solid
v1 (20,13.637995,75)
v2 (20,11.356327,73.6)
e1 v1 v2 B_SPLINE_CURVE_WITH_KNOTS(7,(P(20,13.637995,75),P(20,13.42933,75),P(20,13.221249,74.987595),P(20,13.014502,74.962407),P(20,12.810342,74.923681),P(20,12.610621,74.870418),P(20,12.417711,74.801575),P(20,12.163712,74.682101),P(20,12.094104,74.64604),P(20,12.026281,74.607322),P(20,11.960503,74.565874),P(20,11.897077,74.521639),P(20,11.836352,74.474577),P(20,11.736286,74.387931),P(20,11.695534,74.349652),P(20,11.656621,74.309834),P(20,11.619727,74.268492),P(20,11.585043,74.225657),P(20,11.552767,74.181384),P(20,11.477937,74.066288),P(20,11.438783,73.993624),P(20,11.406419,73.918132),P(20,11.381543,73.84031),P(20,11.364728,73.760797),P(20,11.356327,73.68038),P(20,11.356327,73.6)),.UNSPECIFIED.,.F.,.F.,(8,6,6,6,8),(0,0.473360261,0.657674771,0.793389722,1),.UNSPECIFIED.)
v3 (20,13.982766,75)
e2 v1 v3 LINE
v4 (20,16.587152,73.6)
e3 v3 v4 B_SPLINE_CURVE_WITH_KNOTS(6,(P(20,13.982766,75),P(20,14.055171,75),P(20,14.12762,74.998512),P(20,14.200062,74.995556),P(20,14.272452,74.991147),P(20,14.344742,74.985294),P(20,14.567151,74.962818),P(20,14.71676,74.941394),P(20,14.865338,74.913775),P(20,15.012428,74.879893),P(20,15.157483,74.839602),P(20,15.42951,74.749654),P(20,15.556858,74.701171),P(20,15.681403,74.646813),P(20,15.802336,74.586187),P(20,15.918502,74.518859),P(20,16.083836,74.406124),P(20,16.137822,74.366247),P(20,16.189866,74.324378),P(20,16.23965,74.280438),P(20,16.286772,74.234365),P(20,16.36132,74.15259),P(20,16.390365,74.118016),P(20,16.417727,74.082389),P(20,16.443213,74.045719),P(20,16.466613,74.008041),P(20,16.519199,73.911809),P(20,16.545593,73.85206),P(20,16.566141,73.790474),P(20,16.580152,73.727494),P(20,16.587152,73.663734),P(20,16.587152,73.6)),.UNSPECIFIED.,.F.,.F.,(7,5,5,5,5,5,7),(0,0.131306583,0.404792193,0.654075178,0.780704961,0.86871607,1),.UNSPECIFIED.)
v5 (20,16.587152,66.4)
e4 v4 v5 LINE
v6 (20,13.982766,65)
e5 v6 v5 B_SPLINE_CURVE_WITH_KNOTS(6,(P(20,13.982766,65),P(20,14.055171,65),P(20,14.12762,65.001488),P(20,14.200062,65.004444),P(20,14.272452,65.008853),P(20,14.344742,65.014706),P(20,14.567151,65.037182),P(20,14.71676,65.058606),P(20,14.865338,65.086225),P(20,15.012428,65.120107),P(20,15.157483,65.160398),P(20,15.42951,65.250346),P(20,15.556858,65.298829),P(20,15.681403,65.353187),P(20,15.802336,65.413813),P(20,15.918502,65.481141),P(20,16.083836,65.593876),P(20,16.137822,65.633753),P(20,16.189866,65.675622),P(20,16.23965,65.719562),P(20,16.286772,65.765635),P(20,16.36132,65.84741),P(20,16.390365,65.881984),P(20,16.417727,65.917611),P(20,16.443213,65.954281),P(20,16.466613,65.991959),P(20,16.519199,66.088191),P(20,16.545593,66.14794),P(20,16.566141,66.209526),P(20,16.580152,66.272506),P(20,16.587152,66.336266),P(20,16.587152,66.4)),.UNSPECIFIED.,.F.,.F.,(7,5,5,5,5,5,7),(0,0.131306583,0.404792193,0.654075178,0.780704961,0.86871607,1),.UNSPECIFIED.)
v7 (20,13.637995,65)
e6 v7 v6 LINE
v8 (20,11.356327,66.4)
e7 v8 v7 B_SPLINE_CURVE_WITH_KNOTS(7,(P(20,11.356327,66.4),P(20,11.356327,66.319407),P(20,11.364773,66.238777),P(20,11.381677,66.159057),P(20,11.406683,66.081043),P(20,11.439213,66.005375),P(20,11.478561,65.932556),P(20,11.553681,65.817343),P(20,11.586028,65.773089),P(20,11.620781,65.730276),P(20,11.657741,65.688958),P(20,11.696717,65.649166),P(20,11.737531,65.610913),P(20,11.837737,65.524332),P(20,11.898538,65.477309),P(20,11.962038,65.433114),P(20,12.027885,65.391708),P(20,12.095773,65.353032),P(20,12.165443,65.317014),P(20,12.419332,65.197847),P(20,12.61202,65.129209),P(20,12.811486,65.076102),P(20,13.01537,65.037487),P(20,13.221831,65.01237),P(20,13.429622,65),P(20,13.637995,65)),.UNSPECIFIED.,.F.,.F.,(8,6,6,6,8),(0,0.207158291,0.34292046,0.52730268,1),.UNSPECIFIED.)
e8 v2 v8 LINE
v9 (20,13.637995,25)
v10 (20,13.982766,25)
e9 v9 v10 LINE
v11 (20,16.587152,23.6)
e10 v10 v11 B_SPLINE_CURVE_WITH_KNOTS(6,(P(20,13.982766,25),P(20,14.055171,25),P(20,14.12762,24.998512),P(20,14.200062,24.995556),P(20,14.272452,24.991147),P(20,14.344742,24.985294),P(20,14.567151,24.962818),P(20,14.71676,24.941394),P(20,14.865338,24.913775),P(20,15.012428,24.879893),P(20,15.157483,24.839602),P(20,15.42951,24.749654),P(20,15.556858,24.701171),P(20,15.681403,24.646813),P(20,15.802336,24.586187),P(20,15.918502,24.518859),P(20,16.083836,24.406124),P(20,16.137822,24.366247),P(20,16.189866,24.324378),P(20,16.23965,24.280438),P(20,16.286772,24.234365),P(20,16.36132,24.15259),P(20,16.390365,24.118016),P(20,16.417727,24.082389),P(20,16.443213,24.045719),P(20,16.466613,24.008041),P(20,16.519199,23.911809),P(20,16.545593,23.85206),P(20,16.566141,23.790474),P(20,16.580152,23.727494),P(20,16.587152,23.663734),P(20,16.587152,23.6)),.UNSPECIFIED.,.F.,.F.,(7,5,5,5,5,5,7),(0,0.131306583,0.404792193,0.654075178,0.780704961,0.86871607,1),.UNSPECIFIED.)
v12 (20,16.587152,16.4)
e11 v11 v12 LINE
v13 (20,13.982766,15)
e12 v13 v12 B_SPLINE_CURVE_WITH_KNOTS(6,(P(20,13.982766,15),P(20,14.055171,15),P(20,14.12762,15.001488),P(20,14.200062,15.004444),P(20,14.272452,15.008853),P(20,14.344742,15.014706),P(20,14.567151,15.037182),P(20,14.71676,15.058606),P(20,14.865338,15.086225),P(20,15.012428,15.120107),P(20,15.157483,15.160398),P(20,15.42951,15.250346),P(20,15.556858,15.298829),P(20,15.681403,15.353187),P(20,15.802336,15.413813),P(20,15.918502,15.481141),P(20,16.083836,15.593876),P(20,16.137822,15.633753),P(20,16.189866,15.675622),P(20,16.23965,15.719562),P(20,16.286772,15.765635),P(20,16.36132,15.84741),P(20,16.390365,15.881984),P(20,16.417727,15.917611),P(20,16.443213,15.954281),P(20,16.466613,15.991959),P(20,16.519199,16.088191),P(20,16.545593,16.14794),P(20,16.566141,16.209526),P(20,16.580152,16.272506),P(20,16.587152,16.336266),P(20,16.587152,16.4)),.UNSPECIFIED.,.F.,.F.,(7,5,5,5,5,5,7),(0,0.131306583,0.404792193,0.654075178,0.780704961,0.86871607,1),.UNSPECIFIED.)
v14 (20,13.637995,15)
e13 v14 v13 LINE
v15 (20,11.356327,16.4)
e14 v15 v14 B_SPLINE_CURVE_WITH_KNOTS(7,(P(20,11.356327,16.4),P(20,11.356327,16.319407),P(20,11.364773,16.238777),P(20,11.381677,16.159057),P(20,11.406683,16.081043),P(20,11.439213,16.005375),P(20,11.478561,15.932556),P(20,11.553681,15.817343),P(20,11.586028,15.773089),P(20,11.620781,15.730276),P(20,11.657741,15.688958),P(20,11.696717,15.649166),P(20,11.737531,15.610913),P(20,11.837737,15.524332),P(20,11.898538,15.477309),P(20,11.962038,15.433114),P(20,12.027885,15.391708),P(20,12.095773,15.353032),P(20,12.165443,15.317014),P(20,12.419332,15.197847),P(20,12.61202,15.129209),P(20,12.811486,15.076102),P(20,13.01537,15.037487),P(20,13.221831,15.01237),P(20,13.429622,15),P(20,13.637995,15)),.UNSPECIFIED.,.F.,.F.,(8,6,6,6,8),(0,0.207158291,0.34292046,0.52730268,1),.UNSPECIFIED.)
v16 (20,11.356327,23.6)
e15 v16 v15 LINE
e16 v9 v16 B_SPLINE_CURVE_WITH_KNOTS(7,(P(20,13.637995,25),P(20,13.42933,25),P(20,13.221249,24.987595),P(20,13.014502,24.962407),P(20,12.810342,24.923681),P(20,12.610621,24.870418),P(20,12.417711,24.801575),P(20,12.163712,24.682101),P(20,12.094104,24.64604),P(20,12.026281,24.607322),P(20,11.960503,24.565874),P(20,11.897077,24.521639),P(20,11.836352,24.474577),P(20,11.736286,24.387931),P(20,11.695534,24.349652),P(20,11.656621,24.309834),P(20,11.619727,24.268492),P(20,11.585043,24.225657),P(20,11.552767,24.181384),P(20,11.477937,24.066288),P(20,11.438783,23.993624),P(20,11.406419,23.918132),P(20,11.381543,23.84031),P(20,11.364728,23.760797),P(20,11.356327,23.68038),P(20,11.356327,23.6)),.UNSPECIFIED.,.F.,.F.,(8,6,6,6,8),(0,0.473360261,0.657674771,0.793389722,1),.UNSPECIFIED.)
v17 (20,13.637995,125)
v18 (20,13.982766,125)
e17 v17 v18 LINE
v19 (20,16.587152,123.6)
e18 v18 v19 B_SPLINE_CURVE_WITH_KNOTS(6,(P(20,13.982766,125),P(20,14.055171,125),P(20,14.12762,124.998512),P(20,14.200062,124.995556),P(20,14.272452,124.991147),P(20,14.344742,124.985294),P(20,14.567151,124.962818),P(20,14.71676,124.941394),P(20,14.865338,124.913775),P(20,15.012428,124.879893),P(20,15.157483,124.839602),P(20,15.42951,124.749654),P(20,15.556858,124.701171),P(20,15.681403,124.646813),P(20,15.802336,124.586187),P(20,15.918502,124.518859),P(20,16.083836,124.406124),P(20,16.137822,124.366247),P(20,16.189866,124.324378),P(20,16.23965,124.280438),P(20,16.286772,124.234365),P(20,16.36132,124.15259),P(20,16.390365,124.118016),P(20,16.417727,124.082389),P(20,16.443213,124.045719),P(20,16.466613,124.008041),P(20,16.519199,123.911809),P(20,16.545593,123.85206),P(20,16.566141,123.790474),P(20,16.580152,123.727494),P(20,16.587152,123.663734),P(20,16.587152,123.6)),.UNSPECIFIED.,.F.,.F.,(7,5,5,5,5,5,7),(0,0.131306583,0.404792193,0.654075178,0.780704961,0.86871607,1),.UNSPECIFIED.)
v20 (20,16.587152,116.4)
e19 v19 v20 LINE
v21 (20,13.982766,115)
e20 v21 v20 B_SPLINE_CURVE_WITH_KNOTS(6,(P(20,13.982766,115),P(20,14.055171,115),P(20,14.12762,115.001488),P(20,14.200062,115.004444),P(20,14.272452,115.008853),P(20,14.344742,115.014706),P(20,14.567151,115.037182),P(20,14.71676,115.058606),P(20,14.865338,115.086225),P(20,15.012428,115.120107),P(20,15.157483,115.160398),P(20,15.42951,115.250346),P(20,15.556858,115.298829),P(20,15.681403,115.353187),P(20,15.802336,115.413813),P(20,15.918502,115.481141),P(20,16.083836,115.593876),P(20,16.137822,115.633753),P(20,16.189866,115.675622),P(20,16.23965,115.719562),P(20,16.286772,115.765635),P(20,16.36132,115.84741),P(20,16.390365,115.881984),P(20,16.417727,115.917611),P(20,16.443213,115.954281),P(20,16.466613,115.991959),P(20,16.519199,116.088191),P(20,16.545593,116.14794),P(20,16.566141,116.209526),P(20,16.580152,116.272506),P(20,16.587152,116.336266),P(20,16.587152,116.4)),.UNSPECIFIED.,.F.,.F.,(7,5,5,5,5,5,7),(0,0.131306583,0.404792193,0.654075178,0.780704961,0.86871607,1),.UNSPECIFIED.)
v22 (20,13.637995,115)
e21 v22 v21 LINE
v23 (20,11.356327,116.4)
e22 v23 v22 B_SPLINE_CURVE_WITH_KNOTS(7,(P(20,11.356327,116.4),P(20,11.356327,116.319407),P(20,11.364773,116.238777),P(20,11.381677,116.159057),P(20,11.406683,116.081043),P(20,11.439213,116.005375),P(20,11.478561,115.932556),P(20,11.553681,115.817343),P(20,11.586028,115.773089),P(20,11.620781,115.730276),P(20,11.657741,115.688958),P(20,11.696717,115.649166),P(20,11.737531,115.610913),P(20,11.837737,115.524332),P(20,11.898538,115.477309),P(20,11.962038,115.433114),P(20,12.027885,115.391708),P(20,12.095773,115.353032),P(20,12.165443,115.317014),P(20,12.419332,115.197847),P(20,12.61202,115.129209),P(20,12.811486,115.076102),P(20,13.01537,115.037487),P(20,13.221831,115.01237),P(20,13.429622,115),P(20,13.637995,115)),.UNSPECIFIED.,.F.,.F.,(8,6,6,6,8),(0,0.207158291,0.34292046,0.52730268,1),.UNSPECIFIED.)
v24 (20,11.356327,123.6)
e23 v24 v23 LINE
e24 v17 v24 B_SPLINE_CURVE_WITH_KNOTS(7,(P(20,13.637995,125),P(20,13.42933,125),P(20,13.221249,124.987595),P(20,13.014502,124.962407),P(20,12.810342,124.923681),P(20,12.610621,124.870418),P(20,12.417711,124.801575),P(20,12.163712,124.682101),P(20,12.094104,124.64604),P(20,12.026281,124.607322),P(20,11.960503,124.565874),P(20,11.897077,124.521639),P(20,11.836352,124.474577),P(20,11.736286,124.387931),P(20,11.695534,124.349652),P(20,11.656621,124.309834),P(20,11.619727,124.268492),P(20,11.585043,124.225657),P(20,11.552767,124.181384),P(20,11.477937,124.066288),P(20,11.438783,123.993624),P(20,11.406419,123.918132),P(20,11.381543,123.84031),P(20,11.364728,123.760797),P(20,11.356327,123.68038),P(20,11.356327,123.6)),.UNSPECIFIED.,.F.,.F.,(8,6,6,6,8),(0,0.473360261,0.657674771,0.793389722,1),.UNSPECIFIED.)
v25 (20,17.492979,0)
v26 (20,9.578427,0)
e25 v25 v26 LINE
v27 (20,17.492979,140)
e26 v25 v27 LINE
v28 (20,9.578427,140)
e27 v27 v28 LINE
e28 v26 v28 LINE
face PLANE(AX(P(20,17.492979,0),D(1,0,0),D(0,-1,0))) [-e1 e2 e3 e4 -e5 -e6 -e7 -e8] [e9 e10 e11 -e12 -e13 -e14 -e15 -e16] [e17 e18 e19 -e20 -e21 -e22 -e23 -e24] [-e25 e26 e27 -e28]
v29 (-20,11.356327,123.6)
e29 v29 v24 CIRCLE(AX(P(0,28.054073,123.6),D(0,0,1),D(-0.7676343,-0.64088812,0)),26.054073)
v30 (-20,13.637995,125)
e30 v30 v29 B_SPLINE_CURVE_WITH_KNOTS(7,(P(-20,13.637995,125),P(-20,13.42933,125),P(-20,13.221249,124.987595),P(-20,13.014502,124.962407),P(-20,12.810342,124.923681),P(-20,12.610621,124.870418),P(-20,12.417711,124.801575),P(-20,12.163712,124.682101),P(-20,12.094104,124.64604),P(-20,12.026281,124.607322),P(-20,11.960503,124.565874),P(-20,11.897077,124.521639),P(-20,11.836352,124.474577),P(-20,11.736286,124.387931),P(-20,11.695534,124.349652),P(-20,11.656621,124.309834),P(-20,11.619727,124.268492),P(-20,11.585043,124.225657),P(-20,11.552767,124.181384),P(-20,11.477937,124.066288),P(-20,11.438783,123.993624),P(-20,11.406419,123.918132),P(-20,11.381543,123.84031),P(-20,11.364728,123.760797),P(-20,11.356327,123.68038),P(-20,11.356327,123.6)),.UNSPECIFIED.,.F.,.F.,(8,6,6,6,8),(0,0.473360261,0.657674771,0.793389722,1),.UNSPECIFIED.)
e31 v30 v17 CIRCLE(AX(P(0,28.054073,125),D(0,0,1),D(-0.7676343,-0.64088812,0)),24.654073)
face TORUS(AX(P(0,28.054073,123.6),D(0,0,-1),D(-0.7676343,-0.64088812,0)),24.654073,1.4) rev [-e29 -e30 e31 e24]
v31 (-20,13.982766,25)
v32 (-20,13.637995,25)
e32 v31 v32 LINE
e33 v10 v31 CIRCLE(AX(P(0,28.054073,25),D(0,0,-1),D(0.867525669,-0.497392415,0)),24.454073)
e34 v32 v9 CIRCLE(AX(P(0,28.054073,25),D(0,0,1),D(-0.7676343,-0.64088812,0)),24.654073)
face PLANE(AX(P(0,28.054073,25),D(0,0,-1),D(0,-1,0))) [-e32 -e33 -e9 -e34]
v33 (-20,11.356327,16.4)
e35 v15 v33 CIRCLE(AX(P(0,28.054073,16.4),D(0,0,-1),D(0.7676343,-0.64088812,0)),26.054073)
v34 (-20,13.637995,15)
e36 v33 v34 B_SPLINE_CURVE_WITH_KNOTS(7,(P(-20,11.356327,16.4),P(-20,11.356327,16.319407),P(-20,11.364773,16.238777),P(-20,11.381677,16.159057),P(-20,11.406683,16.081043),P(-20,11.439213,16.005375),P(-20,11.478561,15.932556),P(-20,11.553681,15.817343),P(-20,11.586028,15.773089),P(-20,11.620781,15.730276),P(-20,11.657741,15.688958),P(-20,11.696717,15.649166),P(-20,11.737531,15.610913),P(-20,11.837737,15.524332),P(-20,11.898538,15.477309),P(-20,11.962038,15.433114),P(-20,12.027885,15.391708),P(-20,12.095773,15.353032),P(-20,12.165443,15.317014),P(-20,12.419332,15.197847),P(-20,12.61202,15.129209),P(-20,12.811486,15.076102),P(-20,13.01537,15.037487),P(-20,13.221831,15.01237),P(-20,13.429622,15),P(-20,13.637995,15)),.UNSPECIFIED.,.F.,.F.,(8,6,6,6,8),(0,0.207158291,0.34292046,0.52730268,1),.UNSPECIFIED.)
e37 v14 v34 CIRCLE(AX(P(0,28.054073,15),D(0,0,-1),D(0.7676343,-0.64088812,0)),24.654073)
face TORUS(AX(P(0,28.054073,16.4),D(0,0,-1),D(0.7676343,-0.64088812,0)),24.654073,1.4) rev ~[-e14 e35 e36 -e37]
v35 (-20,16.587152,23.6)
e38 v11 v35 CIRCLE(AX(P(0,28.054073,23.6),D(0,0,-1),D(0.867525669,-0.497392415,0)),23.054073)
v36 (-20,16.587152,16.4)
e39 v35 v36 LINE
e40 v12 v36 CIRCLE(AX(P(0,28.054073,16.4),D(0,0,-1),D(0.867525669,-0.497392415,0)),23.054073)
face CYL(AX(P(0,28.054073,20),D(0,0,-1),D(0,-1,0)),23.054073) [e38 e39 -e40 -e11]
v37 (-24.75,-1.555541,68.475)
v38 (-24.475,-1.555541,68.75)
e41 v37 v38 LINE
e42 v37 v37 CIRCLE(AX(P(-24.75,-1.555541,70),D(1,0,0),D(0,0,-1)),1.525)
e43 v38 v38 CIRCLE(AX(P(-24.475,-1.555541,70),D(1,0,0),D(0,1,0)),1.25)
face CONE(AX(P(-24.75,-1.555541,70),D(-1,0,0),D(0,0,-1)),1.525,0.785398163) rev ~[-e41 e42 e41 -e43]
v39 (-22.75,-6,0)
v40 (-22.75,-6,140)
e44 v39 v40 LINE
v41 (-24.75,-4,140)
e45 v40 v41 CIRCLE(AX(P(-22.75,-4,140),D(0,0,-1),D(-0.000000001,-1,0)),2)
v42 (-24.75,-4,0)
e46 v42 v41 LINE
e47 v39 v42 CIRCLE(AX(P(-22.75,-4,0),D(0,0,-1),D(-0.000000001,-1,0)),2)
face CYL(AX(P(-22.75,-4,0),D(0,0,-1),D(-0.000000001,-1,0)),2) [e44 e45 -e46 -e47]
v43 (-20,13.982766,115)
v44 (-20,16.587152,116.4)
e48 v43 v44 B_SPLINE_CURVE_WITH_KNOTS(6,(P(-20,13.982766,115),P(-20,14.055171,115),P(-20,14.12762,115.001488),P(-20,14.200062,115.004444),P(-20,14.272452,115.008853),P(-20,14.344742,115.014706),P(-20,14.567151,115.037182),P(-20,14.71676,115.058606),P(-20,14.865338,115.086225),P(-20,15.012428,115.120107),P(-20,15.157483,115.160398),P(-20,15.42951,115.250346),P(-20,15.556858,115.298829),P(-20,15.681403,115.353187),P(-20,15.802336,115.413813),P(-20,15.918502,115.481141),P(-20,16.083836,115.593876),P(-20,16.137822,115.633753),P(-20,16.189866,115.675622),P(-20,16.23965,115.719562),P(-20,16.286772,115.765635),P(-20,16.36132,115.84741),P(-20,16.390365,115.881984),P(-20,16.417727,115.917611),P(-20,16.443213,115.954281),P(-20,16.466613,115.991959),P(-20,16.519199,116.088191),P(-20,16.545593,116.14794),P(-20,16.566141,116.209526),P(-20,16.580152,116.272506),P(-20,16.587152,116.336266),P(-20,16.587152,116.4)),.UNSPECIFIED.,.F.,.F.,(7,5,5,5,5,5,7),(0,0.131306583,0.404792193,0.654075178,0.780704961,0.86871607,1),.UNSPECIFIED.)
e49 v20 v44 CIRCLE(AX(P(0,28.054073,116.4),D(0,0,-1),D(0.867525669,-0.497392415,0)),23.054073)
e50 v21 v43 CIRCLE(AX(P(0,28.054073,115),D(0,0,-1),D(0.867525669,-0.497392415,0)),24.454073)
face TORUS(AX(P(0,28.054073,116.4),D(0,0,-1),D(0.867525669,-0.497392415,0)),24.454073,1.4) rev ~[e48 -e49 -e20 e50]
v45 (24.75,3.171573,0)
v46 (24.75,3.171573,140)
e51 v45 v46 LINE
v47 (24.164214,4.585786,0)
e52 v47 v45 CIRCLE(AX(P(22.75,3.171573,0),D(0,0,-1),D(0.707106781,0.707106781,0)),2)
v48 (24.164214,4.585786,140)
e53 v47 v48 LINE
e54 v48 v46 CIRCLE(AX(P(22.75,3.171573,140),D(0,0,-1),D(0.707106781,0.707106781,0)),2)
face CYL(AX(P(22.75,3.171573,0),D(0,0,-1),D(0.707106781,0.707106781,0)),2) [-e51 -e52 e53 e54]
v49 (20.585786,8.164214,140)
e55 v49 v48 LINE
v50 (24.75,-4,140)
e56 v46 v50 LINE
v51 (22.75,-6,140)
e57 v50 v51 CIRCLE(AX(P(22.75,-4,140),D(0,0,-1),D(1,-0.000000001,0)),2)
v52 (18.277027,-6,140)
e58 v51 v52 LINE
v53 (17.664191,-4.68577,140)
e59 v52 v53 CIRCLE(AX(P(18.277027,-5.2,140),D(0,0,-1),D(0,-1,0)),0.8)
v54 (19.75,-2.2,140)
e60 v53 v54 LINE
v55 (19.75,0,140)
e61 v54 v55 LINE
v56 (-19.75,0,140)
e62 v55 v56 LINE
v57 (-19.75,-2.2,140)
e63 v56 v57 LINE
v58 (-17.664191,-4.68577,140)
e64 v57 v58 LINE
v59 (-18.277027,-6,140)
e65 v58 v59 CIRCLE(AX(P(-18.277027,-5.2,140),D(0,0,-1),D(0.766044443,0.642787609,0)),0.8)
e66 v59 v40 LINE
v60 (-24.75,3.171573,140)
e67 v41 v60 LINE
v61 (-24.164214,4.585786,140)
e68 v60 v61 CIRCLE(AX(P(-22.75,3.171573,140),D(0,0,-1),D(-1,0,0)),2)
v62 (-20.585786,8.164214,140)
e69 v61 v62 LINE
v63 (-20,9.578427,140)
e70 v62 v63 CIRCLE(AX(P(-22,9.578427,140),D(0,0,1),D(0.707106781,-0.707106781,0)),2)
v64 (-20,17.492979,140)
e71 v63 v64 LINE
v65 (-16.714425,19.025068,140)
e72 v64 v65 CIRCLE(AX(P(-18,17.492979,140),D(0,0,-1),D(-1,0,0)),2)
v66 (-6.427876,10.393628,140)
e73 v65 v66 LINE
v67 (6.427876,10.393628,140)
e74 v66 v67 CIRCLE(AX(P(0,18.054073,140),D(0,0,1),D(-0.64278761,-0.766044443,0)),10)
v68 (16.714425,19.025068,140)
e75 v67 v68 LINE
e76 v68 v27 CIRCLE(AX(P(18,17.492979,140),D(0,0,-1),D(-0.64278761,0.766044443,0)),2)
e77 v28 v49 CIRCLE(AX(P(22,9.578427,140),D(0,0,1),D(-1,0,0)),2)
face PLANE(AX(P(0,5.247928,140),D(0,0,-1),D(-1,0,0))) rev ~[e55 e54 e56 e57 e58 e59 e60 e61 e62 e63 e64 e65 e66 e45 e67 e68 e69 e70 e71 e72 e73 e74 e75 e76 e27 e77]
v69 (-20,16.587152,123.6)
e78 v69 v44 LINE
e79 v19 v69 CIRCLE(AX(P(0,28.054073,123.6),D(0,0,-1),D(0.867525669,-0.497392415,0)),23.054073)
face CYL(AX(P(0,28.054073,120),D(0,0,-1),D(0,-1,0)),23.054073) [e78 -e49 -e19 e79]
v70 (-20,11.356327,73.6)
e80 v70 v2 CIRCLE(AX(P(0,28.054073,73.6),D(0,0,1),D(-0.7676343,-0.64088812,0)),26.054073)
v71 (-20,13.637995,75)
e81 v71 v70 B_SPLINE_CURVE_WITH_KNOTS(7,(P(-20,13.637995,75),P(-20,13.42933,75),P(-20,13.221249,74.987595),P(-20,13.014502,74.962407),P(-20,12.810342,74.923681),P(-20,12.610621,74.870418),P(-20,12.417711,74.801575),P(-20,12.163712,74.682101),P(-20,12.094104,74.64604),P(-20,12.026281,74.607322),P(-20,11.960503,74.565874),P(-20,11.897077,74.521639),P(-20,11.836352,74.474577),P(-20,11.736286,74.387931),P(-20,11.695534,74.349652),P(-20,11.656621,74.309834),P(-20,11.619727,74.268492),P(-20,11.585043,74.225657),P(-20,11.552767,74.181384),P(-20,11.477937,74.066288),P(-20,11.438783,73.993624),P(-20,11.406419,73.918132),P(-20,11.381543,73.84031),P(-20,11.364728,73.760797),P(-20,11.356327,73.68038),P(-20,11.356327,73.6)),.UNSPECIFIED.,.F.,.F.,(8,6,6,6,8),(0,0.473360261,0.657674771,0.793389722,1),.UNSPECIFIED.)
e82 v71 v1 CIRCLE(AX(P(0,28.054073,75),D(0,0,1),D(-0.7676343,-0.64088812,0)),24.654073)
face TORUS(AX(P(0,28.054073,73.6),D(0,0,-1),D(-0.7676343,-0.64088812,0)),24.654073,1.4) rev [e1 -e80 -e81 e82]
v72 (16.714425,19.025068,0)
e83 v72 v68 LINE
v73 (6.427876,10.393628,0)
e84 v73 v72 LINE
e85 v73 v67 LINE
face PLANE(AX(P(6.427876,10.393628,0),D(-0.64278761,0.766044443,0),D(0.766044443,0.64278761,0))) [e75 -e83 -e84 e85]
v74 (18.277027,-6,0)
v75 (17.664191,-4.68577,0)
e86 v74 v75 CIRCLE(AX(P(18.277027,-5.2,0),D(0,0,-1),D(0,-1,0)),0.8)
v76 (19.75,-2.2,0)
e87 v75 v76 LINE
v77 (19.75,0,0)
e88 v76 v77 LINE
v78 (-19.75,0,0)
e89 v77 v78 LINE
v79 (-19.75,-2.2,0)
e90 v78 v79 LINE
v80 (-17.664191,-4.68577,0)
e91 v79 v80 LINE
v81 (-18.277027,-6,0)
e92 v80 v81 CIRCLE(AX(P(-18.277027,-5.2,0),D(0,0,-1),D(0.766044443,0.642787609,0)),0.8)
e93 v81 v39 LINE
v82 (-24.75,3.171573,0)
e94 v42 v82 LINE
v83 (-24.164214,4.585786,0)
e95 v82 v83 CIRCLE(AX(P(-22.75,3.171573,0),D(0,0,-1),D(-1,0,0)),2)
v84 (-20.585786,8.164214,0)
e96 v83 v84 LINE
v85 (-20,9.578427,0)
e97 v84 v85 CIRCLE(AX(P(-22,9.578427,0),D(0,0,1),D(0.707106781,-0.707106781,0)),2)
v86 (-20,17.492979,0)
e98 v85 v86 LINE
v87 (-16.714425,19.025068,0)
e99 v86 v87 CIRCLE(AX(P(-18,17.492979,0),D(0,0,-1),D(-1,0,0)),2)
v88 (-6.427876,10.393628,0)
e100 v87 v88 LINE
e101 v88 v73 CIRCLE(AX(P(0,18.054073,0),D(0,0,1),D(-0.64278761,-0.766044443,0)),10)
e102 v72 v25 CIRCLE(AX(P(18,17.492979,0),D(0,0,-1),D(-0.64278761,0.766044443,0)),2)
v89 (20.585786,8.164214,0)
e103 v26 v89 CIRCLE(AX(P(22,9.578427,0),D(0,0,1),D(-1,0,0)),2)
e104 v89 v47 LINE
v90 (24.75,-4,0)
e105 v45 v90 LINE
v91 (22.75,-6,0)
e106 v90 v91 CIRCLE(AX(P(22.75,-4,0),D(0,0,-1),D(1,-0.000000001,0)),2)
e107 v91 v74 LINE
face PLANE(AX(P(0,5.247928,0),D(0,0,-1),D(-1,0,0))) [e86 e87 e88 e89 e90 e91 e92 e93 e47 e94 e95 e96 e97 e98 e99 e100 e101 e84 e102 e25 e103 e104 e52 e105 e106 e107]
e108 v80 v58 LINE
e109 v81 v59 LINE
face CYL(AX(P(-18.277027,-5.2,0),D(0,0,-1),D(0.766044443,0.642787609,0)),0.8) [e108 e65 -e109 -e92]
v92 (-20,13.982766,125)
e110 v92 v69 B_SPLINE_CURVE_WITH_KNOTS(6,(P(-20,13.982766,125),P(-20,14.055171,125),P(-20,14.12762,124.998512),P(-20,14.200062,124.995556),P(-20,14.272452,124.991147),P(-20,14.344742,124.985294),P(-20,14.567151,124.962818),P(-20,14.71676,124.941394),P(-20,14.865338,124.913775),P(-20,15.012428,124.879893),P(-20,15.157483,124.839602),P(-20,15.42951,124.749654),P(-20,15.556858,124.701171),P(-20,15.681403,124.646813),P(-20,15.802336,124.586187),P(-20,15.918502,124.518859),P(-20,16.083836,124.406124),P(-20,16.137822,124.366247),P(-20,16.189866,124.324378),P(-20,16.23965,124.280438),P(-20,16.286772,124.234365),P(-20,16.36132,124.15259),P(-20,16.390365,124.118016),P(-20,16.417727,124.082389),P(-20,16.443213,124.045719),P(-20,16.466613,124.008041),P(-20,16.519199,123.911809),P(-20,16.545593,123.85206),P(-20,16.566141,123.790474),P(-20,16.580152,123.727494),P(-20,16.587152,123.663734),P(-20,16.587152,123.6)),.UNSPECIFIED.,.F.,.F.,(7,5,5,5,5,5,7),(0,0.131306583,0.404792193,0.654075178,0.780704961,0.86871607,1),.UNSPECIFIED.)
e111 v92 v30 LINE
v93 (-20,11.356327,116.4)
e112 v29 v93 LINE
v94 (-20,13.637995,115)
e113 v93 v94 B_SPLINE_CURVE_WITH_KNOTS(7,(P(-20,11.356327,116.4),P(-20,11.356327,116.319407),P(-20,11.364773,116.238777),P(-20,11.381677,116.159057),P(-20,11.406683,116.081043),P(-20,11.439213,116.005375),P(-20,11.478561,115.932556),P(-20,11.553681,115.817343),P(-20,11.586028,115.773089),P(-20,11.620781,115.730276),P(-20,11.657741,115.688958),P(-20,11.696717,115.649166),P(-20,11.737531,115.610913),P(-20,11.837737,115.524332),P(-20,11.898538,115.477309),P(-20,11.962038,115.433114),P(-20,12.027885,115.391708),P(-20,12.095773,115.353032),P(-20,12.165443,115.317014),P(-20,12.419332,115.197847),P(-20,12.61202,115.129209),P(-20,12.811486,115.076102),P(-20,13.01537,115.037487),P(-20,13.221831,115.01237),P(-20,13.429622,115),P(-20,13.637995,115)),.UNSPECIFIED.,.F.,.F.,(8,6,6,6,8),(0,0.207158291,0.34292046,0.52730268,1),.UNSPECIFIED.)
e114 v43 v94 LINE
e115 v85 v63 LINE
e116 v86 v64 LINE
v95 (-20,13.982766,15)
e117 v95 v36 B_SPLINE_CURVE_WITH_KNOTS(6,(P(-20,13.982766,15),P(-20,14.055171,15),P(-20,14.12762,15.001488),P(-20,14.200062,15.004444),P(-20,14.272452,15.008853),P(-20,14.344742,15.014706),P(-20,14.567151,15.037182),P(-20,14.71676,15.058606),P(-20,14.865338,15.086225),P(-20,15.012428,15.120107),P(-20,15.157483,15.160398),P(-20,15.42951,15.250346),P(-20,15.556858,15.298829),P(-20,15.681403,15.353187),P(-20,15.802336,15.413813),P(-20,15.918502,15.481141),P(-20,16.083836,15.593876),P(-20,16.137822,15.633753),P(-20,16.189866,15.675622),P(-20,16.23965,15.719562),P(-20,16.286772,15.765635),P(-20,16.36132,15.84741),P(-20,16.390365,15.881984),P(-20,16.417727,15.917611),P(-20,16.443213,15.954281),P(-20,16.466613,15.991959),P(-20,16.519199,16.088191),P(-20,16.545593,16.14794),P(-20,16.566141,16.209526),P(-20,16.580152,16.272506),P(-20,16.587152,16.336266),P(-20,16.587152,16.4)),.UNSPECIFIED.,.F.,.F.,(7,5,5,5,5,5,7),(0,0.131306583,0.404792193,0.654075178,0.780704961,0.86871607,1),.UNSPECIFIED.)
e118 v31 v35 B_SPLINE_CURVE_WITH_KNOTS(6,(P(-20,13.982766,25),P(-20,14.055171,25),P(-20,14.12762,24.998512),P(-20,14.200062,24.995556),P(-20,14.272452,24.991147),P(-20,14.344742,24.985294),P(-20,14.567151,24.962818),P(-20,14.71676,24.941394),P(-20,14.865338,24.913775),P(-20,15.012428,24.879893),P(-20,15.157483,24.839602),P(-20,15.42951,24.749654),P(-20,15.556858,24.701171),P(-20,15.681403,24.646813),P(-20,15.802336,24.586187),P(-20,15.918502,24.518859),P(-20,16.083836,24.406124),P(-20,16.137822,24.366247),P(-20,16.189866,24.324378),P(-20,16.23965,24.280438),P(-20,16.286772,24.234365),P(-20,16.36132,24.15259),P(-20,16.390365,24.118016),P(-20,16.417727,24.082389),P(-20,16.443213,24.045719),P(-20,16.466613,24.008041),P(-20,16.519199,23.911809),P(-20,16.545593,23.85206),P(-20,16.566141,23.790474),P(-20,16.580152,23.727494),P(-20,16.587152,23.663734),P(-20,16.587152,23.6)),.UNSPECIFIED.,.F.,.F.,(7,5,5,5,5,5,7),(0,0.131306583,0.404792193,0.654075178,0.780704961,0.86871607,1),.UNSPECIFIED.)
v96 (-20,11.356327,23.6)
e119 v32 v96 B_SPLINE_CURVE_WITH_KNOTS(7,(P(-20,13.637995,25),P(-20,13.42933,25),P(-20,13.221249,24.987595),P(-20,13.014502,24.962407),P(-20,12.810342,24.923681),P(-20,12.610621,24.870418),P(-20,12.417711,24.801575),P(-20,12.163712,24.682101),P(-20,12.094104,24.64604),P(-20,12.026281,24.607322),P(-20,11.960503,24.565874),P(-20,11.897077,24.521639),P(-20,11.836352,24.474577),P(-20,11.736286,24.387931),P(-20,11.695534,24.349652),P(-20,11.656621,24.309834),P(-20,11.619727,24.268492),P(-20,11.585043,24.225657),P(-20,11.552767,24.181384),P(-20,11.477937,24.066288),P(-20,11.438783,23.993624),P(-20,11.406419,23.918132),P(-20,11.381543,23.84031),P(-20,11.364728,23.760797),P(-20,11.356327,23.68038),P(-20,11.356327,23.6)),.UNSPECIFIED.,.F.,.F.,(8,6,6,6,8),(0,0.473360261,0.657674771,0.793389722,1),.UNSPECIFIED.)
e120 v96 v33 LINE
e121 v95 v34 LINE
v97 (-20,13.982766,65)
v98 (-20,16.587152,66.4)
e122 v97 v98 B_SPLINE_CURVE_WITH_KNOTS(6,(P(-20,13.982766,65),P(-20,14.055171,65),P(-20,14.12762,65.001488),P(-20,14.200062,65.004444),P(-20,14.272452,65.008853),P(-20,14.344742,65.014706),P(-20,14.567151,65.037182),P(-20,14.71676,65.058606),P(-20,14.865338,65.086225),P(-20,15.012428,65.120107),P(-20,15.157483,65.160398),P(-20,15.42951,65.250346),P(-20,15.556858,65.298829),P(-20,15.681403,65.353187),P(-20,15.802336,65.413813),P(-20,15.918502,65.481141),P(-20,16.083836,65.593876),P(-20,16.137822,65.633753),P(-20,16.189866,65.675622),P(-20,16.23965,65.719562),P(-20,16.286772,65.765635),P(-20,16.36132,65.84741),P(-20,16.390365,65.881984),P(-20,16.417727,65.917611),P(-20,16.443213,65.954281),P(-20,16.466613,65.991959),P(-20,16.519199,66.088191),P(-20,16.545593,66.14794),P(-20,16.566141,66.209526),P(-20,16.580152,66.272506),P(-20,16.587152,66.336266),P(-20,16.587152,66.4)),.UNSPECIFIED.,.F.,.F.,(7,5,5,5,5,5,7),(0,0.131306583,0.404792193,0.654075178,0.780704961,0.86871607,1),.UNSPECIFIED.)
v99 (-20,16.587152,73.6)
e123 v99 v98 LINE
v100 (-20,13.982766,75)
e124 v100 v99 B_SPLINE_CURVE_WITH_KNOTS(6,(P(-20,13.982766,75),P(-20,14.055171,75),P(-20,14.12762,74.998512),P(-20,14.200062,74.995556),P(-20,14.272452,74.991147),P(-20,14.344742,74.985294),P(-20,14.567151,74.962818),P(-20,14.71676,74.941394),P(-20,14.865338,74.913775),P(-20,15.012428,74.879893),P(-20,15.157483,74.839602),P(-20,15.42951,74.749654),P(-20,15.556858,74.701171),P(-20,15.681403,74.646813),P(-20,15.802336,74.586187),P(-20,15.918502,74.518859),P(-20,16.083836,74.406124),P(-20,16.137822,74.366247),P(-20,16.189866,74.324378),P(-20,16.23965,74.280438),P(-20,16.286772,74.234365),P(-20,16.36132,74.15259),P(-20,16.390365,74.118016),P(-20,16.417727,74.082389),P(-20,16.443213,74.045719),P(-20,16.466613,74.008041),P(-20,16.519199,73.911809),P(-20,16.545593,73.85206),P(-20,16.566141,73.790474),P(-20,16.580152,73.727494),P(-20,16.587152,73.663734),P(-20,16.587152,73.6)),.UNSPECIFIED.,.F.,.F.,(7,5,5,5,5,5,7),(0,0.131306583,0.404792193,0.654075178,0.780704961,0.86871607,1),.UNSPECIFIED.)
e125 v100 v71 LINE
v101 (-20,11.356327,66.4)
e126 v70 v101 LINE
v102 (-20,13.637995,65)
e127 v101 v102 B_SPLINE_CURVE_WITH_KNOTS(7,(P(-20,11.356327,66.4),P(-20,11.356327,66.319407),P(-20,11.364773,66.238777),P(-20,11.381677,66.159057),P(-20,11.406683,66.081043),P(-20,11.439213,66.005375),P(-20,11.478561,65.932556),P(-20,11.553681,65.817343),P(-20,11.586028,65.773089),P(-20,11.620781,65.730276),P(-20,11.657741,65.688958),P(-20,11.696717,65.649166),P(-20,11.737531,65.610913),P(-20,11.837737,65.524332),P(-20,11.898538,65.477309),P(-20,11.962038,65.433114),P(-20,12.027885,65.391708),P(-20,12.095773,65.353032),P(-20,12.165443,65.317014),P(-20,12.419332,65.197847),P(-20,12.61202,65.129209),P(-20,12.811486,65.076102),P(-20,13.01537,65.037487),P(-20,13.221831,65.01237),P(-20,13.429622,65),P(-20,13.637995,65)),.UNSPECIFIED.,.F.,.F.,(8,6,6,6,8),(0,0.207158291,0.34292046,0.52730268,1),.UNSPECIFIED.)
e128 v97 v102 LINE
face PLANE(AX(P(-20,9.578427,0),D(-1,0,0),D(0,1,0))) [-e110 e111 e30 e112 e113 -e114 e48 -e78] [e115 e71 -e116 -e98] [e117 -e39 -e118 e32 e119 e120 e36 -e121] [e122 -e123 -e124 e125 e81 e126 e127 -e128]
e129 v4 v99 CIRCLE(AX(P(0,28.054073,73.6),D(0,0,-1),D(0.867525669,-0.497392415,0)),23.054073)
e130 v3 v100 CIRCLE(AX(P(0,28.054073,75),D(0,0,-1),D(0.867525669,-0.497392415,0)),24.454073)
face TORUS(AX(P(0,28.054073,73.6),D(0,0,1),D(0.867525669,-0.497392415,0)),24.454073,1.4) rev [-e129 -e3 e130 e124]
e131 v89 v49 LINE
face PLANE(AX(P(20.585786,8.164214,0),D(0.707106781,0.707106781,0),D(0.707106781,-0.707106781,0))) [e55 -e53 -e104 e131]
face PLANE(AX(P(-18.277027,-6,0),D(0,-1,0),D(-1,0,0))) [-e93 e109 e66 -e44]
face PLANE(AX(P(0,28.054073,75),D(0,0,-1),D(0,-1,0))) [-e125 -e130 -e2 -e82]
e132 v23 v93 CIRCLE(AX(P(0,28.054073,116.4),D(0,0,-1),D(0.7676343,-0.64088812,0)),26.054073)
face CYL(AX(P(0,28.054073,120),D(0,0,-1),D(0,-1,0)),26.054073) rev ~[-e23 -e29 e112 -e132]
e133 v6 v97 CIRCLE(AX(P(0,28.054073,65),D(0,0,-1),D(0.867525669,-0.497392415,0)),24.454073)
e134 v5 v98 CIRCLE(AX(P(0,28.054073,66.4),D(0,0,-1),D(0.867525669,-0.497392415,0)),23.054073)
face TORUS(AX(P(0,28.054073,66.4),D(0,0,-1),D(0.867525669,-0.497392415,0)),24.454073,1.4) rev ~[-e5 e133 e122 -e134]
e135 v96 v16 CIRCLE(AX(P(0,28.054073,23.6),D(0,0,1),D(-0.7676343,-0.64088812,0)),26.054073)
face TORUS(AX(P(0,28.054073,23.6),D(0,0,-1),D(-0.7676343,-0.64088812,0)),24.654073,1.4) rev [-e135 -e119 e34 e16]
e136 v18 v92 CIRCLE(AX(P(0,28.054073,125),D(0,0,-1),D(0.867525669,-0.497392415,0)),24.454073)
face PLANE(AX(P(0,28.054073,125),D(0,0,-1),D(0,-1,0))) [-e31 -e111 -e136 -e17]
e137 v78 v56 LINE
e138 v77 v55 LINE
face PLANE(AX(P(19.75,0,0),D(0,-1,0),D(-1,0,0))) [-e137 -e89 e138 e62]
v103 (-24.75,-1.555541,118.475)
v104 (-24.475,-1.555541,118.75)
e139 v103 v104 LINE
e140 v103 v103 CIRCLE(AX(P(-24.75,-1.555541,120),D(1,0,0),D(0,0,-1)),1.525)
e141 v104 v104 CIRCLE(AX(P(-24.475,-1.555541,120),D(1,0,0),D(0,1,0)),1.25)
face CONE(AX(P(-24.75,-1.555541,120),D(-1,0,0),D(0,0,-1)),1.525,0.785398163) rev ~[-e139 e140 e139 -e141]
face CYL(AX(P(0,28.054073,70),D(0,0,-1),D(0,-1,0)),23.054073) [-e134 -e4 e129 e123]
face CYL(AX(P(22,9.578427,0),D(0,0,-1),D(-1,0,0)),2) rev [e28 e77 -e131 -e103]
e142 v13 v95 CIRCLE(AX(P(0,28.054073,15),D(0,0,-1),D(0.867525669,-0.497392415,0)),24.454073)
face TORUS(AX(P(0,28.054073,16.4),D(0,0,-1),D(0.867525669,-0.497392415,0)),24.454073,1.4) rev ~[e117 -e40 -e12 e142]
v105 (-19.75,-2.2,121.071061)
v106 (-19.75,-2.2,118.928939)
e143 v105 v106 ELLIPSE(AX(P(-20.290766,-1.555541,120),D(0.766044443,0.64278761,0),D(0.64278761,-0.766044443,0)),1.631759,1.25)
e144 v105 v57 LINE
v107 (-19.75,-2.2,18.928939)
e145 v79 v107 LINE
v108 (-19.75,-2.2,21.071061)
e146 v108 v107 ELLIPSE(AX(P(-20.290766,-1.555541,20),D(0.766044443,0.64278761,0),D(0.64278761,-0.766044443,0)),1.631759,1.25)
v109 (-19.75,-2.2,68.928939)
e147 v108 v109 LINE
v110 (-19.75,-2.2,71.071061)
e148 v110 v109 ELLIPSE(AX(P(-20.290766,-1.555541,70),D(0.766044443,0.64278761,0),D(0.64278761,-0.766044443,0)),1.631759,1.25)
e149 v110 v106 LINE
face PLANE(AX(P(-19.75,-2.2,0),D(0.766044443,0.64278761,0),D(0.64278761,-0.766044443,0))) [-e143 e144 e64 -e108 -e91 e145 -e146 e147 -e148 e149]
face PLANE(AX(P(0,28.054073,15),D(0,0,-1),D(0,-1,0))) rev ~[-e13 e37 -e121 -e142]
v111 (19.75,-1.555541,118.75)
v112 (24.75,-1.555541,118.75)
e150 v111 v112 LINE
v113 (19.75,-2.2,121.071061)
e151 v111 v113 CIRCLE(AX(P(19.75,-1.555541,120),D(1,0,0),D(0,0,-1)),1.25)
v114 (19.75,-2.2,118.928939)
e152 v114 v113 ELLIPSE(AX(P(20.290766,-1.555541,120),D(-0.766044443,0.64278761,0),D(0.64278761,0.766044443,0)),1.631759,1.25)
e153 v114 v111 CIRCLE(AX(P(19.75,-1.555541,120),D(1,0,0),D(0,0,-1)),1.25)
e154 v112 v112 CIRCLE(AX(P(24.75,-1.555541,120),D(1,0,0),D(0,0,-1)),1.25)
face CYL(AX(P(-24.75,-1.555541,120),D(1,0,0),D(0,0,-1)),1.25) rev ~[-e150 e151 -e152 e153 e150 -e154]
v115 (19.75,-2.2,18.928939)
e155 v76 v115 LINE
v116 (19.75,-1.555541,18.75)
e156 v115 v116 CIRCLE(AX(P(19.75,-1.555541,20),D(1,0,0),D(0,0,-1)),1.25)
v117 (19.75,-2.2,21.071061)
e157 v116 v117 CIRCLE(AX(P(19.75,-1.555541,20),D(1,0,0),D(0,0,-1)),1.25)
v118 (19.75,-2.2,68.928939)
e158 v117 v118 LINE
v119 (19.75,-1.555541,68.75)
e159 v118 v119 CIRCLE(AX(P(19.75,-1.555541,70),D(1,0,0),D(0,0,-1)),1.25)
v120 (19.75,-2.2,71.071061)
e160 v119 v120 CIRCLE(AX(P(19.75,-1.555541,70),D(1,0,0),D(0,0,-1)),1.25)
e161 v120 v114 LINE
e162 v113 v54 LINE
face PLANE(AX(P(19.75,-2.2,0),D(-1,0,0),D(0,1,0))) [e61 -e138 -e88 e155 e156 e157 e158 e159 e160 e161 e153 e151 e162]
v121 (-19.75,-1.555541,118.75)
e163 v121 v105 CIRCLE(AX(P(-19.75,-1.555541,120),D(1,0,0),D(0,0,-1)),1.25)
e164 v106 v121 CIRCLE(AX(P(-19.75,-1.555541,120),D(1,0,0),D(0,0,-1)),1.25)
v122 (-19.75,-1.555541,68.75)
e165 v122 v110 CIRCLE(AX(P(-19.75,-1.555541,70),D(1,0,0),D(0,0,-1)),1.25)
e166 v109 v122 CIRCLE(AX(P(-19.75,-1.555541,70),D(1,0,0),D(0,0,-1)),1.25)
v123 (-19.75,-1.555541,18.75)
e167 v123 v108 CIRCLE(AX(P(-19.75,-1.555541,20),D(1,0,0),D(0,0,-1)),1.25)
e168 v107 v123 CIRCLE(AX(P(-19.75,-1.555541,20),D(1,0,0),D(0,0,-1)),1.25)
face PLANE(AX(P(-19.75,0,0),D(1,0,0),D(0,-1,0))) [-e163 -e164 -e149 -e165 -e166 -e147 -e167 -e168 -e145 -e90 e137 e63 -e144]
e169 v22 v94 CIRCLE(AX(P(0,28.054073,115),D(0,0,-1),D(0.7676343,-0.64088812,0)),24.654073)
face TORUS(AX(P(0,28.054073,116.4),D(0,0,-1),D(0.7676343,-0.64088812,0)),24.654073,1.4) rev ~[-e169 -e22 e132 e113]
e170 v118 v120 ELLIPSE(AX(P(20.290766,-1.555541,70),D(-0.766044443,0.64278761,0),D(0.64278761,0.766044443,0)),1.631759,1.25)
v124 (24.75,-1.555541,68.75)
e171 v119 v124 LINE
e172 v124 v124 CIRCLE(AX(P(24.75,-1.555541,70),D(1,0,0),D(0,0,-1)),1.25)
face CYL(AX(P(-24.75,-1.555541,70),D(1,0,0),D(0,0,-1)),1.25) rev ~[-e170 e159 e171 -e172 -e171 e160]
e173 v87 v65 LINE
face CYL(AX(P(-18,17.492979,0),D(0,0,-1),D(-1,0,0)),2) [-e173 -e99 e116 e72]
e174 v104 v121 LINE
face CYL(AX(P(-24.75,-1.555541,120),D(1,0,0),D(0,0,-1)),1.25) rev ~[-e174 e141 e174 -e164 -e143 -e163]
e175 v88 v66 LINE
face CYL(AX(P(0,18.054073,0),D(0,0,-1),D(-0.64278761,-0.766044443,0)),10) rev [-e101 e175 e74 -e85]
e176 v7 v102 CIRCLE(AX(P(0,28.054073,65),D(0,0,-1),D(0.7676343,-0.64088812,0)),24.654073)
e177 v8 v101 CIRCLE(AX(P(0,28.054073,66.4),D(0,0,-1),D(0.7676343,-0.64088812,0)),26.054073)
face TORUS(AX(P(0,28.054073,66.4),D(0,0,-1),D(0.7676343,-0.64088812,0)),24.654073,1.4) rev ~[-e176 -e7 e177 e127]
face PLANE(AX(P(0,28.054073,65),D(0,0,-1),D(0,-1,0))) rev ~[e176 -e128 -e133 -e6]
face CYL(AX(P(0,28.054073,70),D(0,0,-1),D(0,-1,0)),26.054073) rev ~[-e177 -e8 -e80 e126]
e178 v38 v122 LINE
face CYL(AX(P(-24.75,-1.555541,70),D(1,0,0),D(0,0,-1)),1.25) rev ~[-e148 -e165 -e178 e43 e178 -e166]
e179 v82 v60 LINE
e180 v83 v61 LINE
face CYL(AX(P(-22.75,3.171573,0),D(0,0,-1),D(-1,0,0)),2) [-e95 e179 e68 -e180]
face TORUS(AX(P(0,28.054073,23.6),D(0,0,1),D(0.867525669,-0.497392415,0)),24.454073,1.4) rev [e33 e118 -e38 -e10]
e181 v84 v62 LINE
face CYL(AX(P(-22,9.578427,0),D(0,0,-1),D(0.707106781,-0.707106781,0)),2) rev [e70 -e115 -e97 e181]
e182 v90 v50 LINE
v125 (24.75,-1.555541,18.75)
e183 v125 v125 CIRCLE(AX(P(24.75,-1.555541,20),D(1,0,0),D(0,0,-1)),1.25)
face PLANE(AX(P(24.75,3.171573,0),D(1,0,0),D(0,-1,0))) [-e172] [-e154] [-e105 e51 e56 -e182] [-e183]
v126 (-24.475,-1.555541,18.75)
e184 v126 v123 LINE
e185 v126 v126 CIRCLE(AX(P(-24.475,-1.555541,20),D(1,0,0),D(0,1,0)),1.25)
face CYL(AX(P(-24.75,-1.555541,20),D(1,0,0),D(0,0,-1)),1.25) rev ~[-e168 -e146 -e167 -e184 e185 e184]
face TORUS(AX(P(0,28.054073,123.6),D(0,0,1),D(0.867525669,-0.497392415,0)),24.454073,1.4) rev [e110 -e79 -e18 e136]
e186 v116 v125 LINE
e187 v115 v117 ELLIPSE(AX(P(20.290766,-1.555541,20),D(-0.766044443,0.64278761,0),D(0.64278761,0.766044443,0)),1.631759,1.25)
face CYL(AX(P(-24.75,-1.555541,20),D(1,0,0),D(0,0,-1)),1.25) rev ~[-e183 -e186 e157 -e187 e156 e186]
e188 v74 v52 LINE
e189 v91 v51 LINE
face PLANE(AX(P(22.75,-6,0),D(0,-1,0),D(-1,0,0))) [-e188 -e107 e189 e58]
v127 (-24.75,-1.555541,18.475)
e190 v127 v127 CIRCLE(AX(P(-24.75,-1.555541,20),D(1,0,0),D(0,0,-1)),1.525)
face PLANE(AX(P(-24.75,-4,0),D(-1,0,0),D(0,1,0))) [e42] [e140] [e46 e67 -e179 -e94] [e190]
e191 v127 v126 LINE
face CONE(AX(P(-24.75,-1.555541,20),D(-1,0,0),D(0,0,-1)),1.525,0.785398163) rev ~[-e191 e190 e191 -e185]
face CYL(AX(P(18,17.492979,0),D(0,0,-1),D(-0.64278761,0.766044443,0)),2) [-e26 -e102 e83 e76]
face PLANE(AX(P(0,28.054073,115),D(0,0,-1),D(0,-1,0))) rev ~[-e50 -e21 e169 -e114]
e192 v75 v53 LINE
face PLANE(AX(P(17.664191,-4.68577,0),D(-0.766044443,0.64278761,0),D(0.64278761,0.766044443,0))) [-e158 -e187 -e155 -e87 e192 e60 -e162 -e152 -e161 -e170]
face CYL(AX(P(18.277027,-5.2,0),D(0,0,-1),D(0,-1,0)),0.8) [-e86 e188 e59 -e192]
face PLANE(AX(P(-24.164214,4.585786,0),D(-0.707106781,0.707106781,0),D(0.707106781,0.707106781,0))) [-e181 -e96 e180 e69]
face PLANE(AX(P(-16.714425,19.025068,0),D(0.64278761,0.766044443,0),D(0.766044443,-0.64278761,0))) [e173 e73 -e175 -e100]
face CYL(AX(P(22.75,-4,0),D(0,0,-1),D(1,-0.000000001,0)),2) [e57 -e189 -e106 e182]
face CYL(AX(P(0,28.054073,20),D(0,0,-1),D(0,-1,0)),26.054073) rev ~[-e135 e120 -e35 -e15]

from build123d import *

# Parameters (mm, degrees)
BOSS_EXTRUDE1_DEPTH             = 140
SKETCH2_W                       = 10
SKETCH2_H                       = 3
M3X0_5_TAPPED_HOLE1_D           = 2.5
M3X0_5_TAPPED_HOLE1_CSINK_D     = 3.05
M3X0_5_TAPPED_HOLE1_CSINK_ANGLE = 90
FILLET2_R                       = 1.4


with BuildPart() as part:
    # Sketch1 → Boss-Extrude1 (new body)
    with BuildSketch(Plane.XY):
        with BuildLine():
            Line((6.427876097, 10.393628462), (16.714424781, 19.025067669))
            ThreePointArc((16.714424781, 19.025067669), (18.845236523, 19.305594357), (20, 17.492978783))
            Line((20, 17.492978783), (20, 9.578427125))
            ThreePointArc((20, 9.578427125), (20.152240935, 8.81306026), (20.585786438, 8.164213562))
            Line((20.585786438, 8.164213562), (24.164213562, 4.585786438))
            ThreePointArc((24.164213562, 4.585786438), (24.597759065, 3.93693974), (24.75, 3.171572875))
            Line((24.75, 3.171572875), (24.75, -4))
            ThreePointArc((24.75, -4), (24.164213562, -5.414213562), (22.75, -6))
            Line((22.75, -6), (18.277026938, -6))
            ThreePointArc((18.277026938, -6), (17.551980708, -5.538094609), (17.664191383, -4.685769912))
            Line((17.664191383, -4.685769912), (19.75, -2.2))
            Line((19.75, -2.2), (19.75, 0))
            Line((19.75, 0), (-19.75, 0))
            Line((-19.75, 0), (-19.75, -2.2))
            Line((-19.75, -2.2), (-17.664191383, -4.685769912))
            ThreePointArc((-17.664191383, -4.685769912), (-17.551980708, -5.538094609), (-18.277026938, -6))
            Line((-18.277026938, -6), (-22.75, -6))
            ThreePointArc((-22.75, -6), (-24.164213562, -5.414213562), (-24.75, -4))
            Line((-24.75, -4), (-24.75, 3.171572875))
            ThreePointArc((-24.75, 3.171572875), (-24.597759065, 3.93693974), (-24.164213562, 4.585786438))
            Line((-24.164213562, 4.585786438), (-20.585786438, 8.164213562))
            ThreePointArc((-20.585786438, 8.164213562), (-20.152240935, 8.81306026), (-20, 9.578427125))
            Line((-20, 9.578427125), (-20, 17.492978783))
            ThreePointArc((-20, 17.492978783), (-18.845236523, 19.305594357), (-16.714424781, 19.025067669))
            Line((-16.714424781, 19.025067669), (-6.427876097, 10.393628462))
            ThreePointArc((-6.427876097, 10.393628462), (0, 8.054072893), (6.427876097, 10.393628462))
        make_face()
    extrude(amount=BOSS_EXTRUDE1_DEPTH)

    # Sketch2 → Cut-Revolve1 (revolve, cut)
    with BuildSketch(Plane(origin=(0, 0, 0), x_dir=(0, 0, -1), z_dir=(1, 0, 0))):
        with Locations((-20, 3.5)):
            Rectangle(SKETCH2_W, SKETCH2_H)
        with Locations((-70, 3.5)):
            Rectangle(SKETCH2_W, SKETCH2_H)
        with Locations((-120, 3.5)):
            Rectangle(SKETCH2_W, SKETCH2_H)
    revolve(axis=Axis((0, 28.054072893, 129.353848425), (0, 0, -1)), mode=Mode.SUBTRACT)

    # M3x0.5 Tapped Hole1 (through all)
    with Locations(Plane.ZY.offset(24.75)):
        with Locations((20, -1.555540573), (70, -1.555540573), (120, -1.555540573)):
            CounterSinkHole(M3X0_5_TAPPED_HOLE1_D / 2, M3X0_5_TAPPED_HOLE1_CSINK_D / 2, counter_sink_angle=M3X0_5_TAPPED_HOLE1_CSINK_ANGLE)

    # Fillet2
    fillet2_edges = [part.edges().sort_by_distance(p)[0] for p in [
        (0, 5, 15),
        (0, 2, 15),
        (0, 2, 25),
        (0, 5, 25),
        (0, 5, 65),
        (0, 2, 65),
        (0, 2, 75),
        (0, 5, 75),
        (0, 5, 115),
        (0, 2, 115),
        (0, 2, 125),
        (0, 5, 125),
    ]]
    fillet(fillet2_edges, radius=FILLET2_R)


solid = part.part
